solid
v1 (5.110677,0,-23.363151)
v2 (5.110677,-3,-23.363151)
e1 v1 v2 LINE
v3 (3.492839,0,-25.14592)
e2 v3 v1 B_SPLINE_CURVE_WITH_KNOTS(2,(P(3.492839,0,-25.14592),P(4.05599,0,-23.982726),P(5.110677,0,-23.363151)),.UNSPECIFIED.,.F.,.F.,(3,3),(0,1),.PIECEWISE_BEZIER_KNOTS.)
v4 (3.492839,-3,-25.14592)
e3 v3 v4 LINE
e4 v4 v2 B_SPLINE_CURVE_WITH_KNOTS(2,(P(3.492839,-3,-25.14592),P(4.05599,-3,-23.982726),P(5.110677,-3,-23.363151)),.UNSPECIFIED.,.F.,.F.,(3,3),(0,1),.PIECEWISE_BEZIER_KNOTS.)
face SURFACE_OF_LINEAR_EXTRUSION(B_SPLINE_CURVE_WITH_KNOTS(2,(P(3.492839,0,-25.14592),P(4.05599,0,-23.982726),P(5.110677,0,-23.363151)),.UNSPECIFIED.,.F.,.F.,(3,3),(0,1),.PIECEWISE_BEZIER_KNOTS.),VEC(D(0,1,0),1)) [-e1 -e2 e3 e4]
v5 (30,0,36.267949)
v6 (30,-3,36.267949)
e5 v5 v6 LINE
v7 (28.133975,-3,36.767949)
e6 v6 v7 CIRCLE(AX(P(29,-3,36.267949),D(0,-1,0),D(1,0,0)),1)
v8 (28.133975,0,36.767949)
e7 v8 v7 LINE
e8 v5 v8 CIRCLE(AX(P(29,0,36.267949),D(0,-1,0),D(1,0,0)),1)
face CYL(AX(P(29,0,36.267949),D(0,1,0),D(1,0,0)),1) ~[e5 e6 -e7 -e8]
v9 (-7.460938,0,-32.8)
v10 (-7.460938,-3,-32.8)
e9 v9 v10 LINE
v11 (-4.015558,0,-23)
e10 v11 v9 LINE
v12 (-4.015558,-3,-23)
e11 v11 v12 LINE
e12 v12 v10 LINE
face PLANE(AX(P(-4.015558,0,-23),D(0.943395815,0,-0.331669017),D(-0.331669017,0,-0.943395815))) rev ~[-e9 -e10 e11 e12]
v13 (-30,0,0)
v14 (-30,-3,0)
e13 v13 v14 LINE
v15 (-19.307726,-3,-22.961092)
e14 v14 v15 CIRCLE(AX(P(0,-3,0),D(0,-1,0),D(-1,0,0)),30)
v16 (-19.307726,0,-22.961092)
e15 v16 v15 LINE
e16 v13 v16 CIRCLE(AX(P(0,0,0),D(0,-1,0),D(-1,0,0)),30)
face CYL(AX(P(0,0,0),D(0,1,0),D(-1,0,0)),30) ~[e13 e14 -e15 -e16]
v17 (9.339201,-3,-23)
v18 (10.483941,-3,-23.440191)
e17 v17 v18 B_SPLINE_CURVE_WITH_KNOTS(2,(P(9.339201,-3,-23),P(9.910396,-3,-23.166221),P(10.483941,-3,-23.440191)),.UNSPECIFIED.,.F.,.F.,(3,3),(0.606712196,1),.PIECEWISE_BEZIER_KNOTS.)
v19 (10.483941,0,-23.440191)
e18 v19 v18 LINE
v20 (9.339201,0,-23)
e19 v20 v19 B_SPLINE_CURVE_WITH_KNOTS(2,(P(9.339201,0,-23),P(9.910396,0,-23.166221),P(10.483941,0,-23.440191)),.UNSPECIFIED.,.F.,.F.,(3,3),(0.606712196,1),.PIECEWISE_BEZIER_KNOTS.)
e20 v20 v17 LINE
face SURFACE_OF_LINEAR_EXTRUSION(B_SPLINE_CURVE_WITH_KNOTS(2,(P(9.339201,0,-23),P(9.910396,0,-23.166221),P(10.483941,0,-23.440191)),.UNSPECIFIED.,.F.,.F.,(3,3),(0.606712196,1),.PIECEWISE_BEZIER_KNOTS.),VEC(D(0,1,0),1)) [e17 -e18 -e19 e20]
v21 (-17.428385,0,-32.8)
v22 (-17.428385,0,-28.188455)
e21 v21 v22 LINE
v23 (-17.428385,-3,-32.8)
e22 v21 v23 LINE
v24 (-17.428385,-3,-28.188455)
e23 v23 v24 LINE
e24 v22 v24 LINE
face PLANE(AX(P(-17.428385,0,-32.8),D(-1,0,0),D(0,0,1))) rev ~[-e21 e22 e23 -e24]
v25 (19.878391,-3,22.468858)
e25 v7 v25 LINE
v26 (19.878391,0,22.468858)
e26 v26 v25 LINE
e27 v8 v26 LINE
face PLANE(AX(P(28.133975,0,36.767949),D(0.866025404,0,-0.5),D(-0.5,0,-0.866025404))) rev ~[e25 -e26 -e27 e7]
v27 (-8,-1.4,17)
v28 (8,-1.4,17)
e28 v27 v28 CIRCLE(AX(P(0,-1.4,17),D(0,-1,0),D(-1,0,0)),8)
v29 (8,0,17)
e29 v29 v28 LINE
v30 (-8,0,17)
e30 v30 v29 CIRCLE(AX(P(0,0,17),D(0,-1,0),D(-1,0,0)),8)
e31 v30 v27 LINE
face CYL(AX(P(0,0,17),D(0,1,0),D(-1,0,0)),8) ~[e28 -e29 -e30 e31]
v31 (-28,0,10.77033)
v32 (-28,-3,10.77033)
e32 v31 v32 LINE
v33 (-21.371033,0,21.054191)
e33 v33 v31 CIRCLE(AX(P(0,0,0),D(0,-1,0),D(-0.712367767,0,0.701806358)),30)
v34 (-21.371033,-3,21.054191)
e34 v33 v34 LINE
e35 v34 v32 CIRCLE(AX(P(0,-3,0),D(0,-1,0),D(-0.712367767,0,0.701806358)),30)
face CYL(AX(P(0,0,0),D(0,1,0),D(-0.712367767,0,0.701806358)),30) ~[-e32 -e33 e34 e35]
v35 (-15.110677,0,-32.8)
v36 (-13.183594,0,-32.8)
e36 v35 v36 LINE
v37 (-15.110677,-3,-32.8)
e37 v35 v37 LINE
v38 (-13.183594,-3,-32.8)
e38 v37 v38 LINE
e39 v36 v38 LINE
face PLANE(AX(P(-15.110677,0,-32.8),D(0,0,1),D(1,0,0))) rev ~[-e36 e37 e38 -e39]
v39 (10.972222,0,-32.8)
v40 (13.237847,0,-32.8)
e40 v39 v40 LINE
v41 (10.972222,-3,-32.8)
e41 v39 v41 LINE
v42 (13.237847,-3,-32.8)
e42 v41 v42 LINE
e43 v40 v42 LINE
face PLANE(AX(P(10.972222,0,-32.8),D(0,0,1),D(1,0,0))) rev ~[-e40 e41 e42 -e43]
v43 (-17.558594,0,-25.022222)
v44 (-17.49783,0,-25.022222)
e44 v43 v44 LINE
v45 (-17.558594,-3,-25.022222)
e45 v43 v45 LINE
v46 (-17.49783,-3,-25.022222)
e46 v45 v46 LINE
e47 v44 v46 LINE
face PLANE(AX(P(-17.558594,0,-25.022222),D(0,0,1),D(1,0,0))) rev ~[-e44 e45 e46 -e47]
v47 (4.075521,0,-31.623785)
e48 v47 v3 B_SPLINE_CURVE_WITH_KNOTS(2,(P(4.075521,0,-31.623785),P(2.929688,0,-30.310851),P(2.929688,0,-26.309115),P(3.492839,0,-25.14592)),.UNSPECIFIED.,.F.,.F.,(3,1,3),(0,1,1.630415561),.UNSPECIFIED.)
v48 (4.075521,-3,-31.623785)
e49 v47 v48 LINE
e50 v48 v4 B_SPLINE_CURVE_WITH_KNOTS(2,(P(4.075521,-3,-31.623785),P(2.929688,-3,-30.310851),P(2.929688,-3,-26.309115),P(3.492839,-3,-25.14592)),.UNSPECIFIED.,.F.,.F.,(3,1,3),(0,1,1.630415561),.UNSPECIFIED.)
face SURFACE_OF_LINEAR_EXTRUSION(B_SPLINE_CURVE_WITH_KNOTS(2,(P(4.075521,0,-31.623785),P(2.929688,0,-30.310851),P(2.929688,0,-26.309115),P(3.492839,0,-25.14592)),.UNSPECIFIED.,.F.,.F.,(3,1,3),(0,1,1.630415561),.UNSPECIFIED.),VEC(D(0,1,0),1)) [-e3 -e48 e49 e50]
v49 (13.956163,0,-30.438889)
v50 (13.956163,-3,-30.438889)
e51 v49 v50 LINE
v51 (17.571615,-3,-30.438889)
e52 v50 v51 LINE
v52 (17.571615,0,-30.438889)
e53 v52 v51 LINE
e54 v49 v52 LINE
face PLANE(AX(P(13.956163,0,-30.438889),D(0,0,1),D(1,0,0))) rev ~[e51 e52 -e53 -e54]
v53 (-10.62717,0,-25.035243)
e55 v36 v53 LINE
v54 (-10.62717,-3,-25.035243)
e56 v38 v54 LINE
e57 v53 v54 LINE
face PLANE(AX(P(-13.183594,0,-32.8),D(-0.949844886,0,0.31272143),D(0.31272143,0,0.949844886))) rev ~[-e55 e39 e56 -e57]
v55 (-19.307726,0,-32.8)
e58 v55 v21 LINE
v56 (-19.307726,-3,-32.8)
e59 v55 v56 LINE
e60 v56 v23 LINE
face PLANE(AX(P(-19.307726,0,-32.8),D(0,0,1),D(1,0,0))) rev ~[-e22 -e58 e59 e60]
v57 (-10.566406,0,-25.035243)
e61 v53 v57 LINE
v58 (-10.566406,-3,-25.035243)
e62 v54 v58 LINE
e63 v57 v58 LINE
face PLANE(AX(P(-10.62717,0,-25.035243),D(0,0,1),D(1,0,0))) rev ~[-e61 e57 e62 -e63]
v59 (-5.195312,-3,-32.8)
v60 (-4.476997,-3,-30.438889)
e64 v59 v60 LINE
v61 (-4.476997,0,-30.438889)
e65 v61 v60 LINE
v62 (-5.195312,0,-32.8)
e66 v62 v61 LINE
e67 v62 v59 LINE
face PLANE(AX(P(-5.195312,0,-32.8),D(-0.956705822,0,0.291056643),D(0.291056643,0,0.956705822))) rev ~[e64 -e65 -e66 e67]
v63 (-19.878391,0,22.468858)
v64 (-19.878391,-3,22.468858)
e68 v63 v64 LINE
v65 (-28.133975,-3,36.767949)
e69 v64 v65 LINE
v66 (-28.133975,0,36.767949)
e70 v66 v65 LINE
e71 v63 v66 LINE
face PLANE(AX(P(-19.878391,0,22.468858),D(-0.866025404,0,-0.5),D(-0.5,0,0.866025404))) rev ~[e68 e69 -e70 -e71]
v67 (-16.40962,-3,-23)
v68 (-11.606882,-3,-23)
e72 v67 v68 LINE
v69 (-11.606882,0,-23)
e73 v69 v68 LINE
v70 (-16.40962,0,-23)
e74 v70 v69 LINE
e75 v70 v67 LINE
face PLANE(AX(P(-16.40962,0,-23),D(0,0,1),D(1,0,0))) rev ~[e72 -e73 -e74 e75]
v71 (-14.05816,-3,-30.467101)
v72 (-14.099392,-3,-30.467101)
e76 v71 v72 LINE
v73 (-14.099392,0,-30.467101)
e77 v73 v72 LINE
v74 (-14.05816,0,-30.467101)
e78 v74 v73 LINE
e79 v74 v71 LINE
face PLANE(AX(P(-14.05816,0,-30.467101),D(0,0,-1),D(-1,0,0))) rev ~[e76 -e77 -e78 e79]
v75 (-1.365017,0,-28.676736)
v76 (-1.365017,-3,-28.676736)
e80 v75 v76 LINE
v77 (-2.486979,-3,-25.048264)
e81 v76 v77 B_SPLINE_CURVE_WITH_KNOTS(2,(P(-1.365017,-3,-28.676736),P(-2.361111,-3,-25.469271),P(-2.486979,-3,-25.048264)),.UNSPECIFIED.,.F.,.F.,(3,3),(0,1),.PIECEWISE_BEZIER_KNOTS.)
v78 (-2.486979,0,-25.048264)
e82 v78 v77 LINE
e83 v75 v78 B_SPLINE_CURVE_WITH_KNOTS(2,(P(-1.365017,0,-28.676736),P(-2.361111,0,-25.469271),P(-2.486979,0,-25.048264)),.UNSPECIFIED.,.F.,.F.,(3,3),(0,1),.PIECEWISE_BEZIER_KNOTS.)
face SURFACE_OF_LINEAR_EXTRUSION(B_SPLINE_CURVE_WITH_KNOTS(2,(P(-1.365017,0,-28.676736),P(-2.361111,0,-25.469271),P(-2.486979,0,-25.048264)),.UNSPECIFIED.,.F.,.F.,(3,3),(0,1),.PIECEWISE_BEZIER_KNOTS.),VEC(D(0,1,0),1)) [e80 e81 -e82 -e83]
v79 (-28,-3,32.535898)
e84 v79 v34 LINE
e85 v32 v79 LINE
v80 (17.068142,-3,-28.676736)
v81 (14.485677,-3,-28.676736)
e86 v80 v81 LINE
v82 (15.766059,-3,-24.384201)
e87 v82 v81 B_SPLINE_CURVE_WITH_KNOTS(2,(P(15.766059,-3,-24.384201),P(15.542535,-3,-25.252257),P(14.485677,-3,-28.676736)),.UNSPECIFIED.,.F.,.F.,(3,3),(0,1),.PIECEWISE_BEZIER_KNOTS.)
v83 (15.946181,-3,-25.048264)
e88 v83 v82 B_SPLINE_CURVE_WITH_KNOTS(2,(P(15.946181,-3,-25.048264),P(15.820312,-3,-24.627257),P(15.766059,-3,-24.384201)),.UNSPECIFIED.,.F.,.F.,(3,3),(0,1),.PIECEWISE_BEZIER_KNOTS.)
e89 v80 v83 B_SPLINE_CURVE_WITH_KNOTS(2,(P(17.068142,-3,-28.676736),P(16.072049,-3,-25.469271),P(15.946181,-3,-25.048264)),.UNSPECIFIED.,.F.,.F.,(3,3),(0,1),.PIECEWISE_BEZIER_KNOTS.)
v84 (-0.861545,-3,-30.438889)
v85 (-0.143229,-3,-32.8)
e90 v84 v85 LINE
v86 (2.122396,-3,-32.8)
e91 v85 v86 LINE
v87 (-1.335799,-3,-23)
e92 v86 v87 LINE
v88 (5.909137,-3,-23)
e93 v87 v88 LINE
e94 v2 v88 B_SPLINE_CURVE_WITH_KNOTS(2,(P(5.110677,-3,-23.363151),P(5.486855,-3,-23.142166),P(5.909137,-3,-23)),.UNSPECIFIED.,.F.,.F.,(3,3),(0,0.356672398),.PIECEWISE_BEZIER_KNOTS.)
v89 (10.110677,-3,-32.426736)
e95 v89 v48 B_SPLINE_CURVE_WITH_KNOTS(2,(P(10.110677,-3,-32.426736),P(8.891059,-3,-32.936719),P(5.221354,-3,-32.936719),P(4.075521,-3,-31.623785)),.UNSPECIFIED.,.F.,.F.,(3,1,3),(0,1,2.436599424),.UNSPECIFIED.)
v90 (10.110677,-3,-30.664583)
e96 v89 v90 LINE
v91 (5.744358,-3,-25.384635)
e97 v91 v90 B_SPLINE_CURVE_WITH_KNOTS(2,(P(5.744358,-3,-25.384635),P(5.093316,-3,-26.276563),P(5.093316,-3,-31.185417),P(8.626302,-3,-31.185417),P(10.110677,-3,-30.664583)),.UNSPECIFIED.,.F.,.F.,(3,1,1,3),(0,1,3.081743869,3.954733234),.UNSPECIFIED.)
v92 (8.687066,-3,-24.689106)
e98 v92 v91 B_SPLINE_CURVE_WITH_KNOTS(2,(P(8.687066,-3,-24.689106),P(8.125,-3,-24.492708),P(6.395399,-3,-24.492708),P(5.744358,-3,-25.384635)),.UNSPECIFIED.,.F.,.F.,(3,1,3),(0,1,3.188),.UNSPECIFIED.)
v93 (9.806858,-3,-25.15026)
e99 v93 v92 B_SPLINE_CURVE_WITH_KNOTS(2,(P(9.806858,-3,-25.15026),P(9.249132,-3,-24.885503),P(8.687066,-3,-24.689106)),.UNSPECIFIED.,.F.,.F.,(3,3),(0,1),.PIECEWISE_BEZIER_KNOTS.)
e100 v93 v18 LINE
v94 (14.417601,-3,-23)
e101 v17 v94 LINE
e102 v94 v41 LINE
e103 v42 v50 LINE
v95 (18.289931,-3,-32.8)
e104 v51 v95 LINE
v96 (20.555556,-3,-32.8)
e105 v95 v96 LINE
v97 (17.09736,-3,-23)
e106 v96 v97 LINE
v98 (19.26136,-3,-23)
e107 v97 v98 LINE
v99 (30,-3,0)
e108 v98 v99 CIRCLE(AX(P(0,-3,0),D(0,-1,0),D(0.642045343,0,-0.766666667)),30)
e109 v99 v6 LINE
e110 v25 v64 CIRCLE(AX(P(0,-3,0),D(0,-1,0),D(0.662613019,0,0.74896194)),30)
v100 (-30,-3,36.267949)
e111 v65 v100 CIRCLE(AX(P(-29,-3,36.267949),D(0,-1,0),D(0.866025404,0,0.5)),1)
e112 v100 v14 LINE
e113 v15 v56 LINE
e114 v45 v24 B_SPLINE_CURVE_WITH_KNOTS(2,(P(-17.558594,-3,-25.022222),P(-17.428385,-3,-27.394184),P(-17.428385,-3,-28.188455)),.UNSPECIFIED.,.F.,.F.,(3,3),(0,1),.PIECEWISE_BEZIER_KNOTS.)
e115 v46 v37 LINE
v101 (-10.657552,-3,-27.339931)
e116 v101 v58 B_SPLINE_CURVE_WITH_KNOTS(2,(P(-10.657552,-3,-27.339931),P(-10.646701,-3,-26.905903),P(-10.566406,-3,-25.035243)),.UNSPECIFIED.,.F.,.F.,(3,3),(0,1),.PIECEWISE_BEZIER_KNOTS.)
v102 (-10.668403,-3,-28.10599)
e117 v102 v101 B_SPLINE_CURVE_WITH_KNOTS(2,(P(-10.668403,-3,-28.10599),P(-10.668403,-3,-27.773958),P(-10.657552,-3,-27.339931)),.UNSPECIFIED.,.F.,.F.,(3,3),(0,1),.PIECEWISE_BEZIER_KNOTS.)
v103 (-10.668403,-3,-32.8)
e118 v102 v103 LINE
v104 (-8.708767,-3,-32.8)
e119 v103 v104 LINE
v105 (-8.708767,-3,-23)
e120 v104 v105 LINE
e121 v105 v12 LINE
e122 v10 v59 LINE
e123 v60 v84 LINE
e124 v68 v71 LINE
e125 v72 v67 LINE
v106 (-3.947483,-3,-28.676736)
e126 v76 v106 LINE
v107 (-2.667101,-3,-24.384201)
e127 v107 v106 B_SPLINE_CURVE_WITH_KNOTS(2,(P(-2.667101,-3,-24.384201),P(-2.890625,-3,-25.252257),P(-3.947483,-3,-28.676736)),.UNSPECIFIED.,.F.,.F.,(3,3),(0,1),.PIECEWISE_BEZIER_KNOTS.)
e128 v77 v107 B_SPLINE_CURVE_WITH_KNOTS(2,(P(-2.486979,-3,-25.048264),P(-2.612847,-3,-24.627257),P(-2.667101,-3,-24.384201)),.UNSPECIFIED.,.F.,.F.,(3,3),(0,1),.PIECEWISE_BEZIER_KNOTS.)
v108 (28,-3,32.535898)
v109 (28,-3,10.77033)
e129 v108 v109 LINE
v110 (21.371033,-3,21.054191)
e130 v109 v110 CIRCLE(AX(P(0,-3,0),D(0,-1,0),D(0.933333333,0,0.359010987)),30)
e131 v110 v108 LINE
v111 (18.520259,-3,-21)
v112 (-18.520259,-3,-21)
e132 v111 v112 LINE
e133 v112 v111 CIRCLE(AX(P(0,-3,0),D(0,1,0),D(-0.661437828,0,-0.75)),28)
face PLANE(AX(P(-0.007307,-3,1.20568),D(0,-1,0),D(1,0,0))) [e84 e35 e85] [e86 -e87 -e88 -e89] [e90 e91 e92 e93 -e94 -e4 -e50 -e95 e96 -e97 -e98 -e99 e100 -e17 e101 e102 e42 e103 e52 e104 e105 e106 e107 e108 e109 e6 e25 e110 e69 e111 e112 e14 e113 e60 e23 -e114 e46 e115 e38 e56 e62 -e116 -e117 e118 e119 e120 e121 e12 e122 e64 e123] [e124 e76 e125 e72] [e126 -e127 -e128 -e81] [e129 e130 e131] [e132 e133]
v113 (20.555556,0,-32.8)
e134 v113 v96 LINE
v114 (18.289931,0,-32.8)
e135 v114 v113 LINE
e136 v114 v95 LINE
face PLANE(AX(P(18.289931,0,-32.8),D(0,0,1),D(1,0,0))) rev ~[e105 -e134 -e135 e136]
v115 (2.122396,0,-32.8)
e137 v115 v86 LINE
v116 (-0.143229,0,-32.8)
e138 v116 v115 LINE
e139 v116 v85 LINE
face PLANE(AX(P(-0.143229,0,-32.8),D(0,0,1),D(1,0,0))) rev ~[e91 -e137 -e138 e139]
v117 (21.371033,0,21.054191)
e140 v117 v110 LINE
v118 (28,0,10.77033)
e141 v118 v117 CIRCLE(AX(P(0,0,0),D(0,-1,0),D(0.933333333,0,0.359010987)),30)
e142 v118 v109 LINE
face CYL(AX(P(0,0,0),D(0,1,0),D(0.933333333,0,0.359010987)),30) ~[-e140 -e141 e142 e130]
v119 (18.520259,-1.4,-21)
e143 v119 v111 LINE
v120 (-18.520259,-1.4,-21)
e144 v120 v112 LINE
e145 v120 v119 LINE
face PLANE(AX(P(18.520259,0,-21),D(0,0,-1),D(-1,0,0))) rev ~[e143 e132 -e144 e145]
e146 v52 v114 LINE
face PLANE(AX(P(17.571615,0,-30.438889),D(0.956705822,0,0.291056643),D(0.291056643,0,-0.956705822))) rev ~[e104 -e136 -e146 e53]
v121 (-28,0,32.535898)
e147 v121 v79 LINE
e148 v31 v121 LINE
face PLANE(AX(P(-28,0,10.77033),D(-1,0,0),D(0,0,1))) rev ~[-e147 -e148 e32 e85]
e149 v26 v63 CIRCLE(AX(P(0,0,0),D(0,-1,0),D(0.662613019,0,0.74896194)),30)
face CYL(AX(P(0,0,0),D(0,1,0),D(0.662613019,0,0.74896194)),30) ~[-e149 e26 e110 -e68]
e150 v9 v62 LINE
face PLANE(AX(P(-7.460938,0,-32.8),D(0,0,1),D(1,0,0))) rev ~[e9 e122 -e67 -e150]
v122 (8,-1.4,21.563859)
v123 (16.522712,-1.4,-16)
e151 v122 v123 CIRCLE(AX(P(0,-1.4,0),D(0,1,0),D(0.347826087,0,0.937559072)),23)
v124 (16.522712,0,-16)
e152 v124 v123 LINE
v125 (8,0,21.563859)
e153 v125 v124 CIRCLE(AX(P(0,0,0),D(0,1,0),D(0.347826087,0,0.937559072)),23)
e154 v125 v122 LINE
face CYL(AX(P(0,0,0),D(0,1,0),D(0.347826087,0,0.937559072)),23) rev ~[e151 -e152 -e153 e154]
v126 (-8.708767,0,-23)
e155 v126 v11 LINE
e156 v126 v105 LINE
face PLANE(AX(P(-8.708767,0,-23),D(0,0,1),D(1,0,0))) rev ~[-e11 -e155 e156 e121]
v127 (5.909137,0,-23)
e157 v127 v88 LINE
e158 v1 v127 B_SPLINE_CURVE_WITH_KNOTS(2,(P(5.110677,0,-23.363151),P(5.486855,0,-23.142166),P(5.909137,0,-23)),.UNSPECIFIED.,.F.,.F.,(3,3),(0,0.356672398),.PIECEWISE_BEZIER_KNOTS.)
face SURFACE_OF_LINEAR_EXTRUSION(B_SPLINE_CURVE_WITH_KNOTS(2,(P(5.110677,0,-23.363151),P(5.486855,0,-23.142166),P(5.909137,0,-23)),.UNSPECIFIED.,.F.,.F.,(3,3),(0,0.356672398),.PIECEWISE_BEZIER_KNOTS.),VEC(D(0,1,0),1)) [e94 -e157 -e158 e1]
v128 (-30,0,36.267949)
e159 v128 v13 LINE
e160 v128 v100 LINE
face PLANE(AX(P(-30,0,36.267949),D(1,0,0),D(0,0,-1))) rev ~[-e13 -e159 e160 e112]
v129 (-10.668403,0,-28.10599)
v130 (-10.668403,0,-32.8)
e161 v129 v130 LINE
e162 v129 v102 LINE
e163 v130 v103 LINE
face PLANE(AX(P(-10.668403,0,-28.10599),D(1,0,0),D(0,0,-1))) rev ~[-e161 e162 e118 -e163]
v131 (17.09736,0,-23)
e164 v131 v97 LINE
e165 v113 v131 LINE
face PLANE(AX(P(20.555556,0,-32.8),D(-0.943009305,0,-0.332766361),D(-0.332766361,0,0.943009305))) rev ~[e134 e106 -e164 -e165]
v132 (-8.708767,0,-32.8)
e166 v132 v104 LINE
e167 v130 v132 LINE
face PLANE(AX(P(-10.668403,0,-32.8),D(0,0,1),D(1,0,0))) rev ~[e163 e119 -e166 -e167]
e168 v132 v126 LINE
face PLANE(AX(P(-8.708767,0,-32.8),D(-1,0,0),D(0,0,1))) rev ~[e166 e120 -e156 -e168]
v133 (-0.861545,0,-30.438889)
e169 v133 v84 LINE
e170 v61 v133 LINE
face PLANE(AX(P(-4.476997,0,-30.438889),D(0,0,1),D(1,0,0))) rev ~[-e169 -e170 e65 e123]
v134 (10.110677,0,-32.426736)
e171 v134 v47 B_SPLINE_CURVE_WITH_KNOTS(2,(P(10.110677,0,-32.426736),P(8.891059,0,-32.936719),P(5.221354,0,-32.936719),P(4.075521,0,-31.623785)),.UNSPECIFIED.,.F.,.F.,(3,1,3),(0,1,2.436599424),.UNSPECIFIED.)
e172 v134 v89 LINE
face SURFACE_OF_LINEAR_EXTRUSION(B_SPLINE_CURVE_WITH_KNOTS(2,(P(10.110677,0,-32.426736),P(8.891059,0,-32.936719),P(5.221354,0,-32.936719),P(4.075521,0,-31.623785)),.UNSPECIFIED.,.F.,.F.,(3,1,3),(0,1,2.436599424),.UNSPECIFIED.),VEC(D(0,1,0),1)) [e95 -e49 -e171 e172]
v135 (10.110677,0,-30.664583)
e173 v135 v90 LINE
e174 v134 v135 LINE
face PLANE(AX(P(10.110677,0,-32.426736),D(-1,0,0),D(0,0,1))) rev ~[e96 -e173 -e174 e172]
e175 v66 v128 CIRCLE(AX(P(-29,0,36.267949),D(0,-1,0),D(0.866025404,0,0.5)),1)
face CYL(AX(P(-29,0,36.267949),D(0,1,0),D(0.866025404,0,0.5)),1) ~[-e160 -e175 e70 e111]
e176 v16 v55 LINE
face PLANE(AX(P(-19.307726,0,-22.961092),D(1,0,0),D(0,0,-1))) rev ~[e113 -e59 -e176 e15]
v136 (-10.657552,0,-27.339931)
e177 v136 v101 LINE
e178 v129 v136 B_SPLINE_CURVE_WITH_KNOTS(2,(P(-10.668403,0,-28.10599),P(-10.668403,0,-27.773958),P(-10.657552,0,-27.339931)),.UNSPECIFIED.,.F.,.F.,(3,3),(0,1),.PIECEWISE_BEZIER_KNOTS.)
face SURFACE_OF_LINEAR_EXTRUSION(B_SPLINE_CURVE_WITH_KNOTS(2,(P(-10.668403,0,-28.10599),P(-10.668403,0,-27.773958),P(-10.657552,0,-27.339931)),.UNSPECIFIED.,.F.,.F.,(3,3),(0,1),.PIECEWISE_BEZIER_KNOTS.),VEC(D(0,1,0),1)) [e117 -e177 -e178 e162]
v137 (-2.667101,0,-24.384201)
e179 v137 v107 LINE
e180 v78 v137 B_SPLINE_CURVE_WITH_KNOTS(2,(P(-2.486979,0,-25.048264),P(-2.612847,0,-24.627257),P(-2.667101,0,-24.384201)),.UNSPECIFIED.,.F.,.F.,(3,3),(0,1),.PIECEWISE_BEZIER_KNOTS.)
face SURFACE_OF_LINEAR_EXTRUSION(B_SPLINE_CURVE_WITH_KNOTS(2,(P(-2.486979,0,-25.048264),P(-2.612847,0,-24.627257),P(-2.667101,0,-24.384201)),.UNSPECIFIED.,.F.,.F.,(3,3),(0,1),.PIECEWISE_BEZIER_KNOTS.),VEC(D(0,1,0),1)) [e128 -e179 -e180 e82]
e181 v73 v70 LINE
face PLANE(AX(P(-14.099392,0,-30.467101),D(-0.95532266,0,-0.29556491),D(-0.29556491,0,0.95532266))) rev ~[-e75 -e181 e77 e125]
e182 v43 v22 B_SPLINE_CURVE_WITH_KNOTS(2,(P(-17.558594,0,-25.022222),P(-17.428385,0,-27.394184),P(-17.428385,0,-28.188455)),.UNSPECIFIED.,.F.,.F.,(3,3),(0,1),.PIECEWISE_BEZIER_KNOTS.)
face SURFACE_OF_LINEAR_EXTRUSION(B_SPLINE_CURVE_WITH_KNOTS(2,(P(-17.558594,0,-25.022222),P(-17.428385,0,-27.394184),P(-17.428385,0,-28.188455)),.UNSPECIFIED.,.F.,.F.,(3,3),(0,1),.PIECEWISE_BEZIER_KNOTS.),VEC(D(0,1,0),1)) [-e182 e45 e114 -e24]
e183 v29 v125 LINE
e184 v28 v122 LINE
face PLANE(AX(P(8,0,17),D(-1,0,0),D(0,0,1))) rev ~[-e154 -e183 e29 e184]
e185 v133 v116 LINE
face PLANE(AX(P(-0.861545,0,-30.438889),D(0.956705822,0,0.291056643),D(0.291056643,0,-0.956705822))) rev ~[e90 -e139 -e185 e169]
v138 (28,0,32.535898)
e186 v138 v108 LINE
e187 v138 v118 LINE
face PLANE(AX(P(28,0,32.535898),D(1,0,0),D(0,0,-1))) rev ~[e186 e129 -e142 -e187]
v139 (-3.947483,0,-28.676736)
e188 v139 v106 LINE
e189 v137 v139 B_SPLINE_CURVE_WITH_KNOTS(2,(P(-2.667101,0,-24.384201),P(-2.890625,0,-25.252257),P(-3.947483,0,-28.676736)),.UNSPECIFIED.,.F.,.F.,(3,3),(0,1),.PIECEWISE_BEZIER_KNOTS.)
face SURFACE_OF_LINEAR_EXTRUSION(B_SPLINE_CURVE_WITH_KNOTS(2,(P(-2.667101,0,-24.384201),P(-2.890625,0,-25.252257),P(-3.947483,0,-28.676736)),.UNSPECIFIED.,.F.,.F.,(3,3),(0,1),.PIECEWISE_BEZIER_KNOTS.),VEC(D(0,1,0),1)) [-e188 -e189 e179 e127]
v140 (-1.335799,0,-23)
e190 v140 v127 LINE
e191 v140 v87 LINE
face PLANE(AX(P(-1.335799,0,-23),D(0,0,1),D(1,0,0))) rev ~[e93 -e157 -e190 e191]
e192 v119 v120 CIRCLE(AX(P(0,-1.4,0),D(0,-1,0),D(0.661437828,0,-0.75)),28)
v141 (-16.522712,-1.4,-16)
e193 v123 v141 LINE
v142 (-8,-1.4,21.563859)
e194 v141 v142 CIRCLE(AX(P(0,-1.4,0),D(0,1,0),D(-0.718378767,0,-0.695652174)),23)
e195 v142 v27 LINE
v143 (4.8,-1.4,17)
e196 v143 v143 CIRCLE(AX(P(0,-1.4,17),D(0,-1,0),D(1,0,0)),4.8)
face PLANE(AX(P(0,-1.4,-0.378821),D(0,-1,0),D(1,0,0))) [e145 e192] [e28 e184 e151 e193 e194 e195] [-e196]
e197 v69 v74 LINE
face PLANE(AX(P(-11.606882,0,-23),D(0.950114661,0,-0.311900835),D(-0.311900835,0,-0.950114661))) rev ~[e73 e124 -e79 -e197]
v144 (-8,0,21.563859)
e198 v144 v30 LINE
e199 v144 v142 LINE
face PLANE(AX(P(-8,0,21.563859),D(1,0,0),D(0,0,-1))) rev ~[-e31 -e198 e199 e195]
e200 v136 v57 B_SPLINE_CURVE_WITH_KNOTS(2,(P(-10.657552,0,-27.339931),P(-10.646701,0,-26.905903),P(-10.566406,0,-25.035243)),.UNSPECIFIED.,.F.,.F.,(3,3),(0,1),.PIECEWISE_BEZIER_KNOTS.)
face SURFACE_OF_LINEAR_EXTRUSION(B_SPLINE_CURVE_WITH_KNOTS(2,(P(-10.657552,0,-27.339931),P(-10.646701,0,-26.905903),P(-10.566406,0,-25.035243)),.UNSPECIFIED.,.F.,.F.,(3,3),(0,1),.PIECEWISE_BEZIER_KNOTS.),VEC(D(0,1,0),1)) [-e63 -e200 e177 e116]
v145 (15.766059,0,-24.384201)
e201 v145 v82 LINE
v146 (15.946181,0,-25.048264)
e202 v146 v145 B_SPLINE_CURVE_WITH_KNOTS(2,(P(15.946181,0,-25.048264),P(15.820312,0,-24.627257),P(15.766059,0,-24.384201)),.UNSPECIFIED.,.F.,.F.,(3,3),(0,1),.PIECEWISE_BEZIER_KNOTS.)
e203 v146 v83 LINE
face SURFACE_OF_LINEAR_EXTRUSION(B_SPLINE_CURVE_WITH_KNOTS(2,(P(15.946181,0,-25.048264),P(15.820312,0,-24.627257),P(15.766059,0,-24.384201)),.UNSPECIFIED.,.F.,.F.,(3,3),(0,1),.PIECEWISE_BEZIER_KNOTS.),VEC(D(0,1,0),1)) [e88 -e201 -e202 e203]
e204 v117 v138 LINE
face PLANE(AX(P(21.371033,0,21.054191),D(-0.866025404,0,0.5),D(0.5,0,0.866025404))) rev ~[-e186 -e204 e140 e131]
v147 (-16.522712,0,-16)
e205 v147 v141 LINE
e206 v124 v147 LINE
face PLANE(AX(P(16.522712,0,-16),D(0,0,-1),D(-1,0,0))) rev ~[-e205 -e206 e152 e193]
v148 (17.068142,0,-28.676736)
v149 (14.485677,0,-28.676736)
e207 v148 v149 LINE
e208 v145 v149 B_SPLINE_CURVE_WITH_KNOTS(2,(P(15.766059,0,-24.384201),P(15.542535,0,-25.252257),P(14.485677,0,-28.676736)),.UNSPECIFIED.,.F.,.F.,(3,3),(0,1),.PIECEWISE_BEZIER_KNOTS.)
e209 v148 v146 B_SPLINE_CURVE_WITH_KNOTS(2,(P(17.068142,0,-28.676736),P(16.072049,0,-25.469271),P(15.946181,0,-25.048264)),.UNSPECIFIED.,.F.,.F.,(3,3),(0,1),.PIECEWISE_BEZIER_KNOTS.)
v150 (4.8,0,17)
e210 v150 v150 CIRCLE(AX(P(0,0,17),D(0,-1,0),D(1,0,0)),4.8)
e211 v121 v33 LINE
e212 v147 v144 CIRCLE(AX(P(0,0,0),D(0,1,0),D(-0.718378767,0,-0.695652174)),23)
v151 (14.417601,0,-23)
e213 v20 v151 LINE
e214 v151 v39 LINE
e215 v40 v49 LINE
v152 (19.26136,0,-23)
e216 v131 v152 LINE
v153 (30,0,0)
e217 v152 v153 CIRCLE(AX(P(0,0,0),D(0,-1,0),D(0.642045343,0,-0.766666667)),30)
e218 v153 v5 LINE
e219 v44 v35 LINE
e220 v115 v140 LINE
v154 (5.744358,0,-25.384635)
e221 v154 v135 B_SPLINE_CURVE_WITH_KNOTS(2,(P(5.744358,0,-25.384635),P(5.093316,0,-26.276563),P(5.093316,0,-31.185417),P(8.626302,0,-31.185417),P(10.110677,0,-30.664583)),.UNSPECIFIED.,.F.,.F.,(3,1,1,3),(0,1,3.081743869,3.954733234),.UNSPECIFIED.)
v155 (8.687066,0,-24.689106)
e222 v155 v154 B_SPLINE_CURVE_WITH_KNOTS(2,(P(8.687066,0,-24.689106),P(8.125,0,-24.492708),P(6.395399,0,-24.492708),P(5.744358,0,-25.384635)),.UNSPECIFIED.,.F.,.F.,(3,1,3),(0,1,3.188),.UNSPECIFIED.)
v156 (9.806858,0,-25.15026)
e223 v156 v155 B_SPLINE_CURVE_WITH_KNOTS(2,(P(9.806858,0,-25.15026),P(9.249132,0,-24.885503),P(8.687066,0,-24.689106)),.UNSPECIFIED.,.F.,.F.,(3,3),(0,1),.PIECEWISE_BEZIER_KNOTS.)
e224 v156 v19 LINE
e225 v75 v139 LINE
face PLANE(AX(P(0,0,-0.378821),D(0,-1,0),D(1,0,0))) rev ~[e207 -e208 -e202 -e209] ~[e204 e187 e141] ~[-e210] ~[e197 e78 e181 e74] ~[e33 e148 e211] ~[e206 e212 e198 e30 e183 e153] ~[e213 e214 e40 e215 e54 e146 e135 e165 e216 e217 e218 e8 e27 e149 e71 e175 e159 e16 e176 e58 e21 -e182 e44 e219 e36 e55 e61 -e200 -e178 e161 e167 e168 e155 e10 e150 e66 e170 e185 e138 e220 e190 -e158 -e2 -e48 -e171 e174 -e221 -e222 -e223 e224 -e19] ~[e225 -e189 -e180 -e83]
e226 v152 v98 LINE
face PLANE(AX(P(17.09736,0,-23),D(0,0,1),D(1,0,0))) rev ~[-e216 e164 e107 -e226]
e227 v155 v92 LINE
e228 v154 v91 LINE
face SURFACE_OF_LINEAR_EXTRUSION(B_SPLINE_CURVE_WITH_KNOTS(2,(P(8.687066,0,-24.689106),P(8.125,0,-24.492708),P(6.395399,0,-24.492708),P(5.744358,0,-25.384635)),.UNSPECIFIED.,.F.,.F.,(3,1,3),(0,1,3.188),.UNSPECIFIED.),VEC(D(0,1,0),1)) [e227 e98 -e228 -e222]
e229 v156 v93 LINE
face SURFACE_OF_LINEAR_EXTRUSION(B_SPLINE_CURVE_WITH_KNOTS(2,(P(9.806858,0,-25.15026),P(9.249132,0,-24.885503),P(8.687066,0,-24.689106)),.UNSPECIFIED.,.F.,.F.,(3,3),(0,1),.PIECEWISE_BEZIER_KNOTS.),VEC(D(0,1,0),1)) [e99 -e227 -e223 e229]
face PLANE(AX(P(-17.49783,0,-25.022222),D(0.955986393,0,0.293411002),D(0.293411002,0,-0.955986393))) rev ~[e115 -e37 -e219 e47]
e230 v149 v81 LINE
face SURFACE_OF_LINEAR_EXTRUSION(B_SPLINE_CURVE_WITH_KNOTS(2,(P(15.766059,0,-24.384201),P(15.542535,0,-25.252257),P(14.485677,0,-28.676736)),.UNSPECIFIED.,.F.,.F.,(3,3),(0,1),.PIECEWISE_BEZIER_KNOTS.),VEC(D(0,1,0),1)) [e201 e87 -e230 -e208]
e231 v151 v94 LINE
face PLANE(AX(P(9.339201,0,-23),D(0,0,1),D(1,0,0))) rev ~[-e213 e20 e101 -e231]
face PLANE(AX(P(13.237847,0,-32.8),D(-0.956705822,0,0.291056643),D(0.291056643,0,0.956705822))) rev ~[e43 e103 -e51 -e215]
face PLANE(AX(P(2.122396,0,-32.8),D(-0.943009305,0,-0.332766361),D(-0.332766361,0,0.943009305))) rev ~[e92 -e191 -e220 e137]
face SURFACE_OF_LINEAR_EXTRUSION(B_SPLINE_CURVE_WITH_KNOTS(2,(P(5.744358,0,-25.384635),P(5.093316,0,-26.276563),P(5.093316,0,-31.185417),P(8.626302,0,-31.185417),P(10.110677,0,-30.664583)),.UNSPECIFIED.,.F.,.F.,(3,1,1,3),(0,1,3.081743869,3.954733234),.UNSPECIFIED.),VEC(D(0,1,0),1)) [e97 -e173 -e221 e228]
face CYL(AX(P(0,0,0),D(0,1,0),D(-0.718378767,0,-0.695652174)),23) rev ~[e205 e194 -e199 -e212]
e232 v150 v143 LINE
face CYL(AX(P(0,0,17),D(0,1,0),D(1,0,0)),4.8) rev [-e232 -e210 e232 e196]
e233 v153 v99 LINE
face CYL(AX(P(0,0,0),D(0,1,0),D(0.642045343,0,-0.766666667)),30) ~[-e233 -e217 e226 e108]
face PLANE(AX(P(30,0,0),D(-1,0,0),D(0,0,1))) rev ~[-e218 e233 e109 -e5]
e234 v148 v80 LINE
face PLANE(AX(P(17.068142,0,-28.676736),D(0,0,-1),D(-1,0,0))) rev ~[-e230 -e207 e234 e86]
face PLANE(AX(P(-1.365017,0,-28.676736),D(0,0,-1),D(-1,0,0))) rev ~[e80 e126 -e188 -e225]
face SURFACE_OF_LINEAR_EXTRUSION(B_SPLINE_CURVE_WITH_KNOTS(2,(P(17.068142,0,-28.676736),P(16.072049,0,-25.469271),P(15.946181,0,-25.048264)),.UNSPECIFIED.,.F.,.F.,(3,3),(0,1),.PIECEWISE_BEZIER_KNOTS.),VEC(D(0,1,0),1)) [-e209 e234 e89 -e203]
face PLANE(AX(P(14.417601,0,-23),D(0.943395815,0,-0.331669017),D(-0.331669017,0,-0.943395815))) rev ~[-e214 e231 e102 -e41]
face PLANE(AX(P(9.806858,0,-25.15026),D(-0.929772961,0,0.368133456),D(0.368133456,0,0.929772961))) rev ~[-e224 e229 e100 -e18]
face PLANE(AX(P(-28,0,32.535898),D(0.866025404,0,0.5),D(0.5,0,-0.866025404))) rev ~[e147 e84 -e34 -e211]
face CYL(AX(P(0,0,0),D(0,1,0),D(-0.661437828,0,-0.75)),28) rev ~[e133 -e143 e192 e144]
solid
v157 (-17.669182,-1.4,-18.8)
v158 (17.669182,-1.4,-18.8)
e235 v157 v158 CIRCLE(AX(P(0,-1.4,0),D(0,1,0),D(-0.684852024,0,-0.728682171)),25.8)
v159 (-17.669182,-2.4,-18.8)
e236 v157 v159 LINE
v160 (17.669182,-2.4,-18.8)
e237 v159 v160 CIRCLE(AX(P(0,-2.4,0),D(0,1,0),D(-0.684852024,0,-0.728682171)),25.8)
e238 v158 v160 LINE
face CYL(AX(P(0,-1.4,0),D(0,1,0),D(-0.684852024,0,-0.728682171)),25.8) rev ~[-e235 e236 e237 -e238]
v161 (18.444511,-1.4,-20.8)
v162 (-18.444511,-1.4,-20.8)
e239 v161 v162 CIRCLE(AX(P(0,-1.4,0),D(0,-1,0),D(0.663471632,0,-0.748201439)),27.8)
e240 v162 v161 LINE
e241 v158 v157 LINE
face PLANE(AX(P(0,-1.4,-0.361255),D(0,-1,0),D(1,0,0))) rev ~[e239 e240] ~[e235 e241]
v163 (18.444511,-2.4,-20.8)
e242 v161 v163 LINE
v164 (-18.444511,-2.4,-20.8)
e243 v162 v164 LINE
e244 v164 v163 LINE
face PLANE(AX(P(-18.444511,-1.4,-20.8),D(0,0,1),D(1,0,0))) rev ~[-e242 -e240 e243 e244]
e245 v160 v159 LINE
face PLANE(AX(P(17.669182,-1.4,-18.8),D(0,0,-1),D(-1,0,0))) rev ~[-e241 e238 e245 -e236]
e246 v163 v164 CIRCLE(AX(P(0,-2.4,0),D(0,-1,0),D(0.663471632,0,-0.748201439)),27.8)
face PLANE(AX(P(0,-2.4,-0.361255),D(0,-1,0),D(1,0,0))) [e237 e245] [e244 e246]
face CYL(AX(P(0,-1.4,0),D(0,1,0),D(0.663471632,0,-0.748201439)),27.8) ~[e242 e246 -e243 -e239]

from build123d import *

# Parameters (mm, degrees)
F1_DEPTH = 3
F0_R     = 4.8
F2_DEPTH = 1.4
F4_DEPTH = 1


with BuildPart() as f1:
    # F0 (on Front) → F1 (new body)
    with BuildSketch(Plane.XZ):
        with BuildLine():
            Line((17.0973602635, -23), (19.2613602843, -23))
            ThreePointArc((19.2613602843, -23), (27.1830904105, -12.6917136643), (30, 0))
            ThreePointArc((30, 0), (29.4957624075, 5.4772255751), (28, 10.7703296143))
            ThreePointArc((28, 10.7703296143), (25.2153559369, 16.2537941718), (21.3710330072, 21.0541907516))
            ThreePointArc((21.3710330072, 21.0541907516), (20.6368373831, 21.7743184239), (19.8783905611, 22.4688581975))
            ThreePointArc((19.8783905611, 22.4688581975), (0, 30), (-19.8783905611, 22.4688581975))
            ThreePointArc((-19.8783905611, 22.4688581975), (-20.6368373831, 21.7743184239), (-21.3710330072, 21.0541907516))
            ThreePointArc((-21.3710330072, 21.0541907516), (-25.2153559369, 16.2537941718), (-28, 10.7703296143))
            ThreePointArc((-28, 10.7703296143), (-29.4957624075, 5.4772255751), (-30, 0))
            ThreePointArc((-30, 0), (-27.1958799346, -12.6642850009), (-19.3077256944, -22.9610916227))
            Line((-19.3077256944, -22.9610916227), (-19.3077256944, -22.8846354167))
            Line((-19.3077256944, -22.8846354167), (-16.4453125, -22.8846354167))
            Line((-16.4453125, -22.8846354167), (-16.4096201375, -23))
            Line((-16.4096201375, -23), (-11.6068819613, -23))
            Line((-11.6068819613, -23), (-11.5690104167, -22.8846354167))
            Line((-11.5690104167, -22.8846354167), (-8.7087673611, -22.8846354167))
            Line((-8.7087673611, -22.8846354167), (-8.7087673611, -23))
            Line((-8.7087673611, -23), (-4.0155582498, -23))
            Line((-4.0155582498, -23), (-3.9605034722, -22.8434027778))
            Line((-3.9605034722, -22.8434027778), (-1.3910590278, -22.8434027778))
            Line((-1.3910590278, -22.8434027778), (-1.3357994587, -23))
            Line((-1.3357994587, -23), (5.909137391, -23))
            add(Edge.make_bspline(
                [(5.909137391, -23), (6.670805287, -22.7435763889), (7.5824652778, -22.7435763889)],
                knots=[0.3566723985, 0.3566723985, 0.3566723985, 1, 1, 1], degree=2))
            add(Edge.make_bspline(
                [(7.5824652778, -22.7435763889), (8.4580373485, -22.7435763889), (9.3392012113, -23)],
                knots=[0, 0, 0, 0.6067121958, 0.6067121958, 0.6067121958], degree=2))
            Line((9.3392012113, -23), (14.4176014724, -23))
            Line((14.4176014724, -23), (14.47265625, -22.8434027778))
            Line((14.47265625, -22.8434027778), (17.0421006944, -22.8434027778))
            Line((17.0421006944, -22.8434027778), (17.0973602635, -23))
        make_face()
        with BuildLine():
            ThreePointArc((-18.5202591775, -21), (0, 28), (18.5202591775, -21))
            Line((18.5202591775, -21), (-18.5202591775, -21))
        make_face(mode=Mode.SUBTRACT)
        with BuildLine():
            ThreePointArc((28, 10.7703296143), (29.4957624075, 5.4772255751), (30, 0))
            Line((30, 0), (30, 36.2679491924))
            ThreePointArc((30, 36.2679491924), (29.2588190451, 37.2338750187), (28.1339745962, 36.7679491924))
            Line((28.1339745962, 36.7679491924), (19.8783905611, 22.4688581975))
            ThreePointArc((19.8783905611, 22.4688581975), (20.6368373831, 21.7743184239), (21.3710330072, 21.0541907516))
            Line((21.3710330072, 21.0541907516), (28, 32.5358983849))
            Line((28, 32.5358983849), (28, 10.7703296143))
        make_face()
        Polygon((20.5555555556, -32.8), (17.0973602635, -23), (14.4176014724, -23), (10.9722222222, -32.8), (13.2378472222, -32.8), (13.9561631944, -30.4388888889), (17.5716145833, -30.4388888889), (18.2899305556, -32.8), align=None)
        with BuildLine():
            add(Edge.make_bspline(
                [(17.0681423611, -28.6767361111), (16.0720486111, -25.4692708333), (15.9461805556, -25.0482638889)],
                knots=[0, 0, 0, 1, 1, 1], degree=2))
            Line((17.0681423611, -28.6767361111), (14.4856770833, -28.6767361111))
            add(Edge.make_bspline(
                [(15.7660590278, -24.3842013889), (15.5425347222, -25.2522569444), (14.4856770833, -28.6767361111)],
                knots=[0, 0, 0, 1, 1, 1], degree=2))
            add(Edge.make_bspline(
                [(15.9461805556, -25.0482638889), (15.8203125, -24.6272569444), (15.7660590278, -24.3842013889)],
                knots=[0, 0, 0, 1, 1, 1], degree=2))
        make_face(mode=Mode.SUBTRACT)
        Polygon((14.4176014724, -23), (17.0973602635, -23), (17.0421006944, -22.8434027778), (14.47265625, -22.8434027778), align=None)
        with BuildLine():
            add(Edge.make_bspline(
                [(9.3392012113, -23), (9.9103962577, -23.1662209523), (10.4839409722, -23.4401909722)],
                knots=[0.6067121958, 0.6067121958, 0.6067121958, 1, 1, 1], degree=2))
            Line((9.3392012113, -23), (5.909137391, -23))
            add(Edge.make_bspline(
                [(5.1106770833, -23.3631510417), (5.4868550037, -23.1421658642), (5.909137391, -23)],
                knots=[0, 0, 0, 0.3566723985, 0.3566723985, 0.3566723985], degree=2))
            add(Edge.make_bspline(
                [(3.4928385417, -25.1459201389), (4.0559895833, -23.9827256944), (5.1106770833, -23.3631510417)],
                knots=[0, 0, 0, 1, 1, 1], degree=2))
            add(Edge.make_bspline(
                [(2.9296875, -27.8564236111), (2.9296875, -26.3091145833), (3.4928385417, -25.1459201389)],
                knots=[0, 0, 0, 1, 1, 1], degree=2))
            add(Edge.make_bspline(
                [(4.0755208333, -31.6237847222), (2.9296875, -30.3108506944), (2.9296875, -27.8564236111)],
                knots=[0, 0, 0, 1, 1, 1], degree=2))
            add(Edge.make_bspline(
                [(7.3849826389, -32.93671875), (5.2213541667, -32.93671875), (4.0755208333, -31.6237847222)],
                knots=[0, 0, 0, 1, 1, 1], degree=2))
            add(Edge.make_bspline(
                [(10.1106770833, -32.4267361111), (8.8910590278, -32.93671875), (7.3849826389, -32.93671875)],
                knots=[0, 0, 0, 1, 1, 1], degree=2))
            Line((10.1106770833, -32.4267361111), (10.1106770833, -30.6645833333))
            add(Edge.make_bspline(
                [(7.5824652778, -31.1854166667), (8.6263020833, -31.1854166667), (10.1106770833, -30.6645833333)],
                knots=[0, 0, 0, 1, 1, 1], degree=2))
            add(Edge.make_bspline(
                [(5.0933159722, -27.8694444444), (5.0933159722, -31.1854166667), (7.5824652778, -31.1854166667)],
                knots=[0, 0, 0, 1, 1, 1], degree=2))
            add(Edge.make_bspline(
                [(5.7443576389, -25.3846354167), (5.0933159722, -26.2765625), (5.0933159722, -27.8694444444)],
                knots=[0, 0, 0, 1, 1, 1], degree=2))
            add(Edge.make_bspline(
                [(7.5824652778, -24.4927083333), (6.3953993056, -24.4927083333), (5.7443576389, -25.3846354167)],
                knots=[0, 0, 0, 1, 1, 1], degree=2))
            add(Edge.make_bspline(
                [(8.6870659722, -24.6891059028), (8.125, -24.4927083333), (7.5824652778, -24.4927083333)],
                knots=[0, 0, 0, 1, 1, 1], degree=2))
            add(Edge.make_bspline(
                [(9.8068576389, -25.1502604167), (9.2491319444, -24.8855034722), (8.6870659722, -24.6891059028)],
                knots=[0, 0, 0, 1, 1, 1], degree=2))
            Line((9.8068576389, -25.1502604167), (10.4839409722, -23.4401909722))
        make_face()
        with BuildLine():
            Line((5.909137391, -23), (9.3392012113, -23))
            add(Edge.make_bspline(
                [(7.5824652778, -22.7435763889), (8.4580373485, -22.7435763889), (9.3392012113, -23)],
                knots=[0, 0, 0, 0.6067121958, 0.6067121958, 0.6067121958], degree=2))
            add(Edge.make_bspline(
                [(5.909137391, -23), (6.670805287, -22.7435763889), (7.5824652778, -22.7435763889)],
                knots=[0.3566723985, 0.3566723985, 0.3566723985, 1, 1, 1], degree=2))
        make_face()
        with BuildLine():
            ThreePointArc((-21.3710330072, 21.0541907516), (-20.6368373831, 21.7743184239), (-19.8783905611, 22.4688581975))
            Line((-19.8783905611, 22.4688581975), (-28.1339745962, 36.7679491924))
            ThreePointArc((-28.1339745962, 36.7679491924), (-29.2588190451, 37.2338750187), (-30, 36.2679491924))
            Line((-30, 36.2679491924), (-30, 0))
            ThreePointArc((-30, 0), (-29.4957624075, 5.4772255751), (-28, 10.7703296143))
            Line((-28, 10.7703296143), (-28, 32.5358983849))
            Line((-28, 32.5358983849), (-21.3710330072, 21.0541907516))
        make_face()
        Polygon((2.1223958333, -32.8), (-1.3357994587, -23), (-4.0155582498, -23), (-7.4609375, -32.8), (-5.1953125, -32.8), (-4.4769965278, -30.4388888889), (-0.8615451389, -30.4388888889), (-0.1432291667, -32.8), align=None)
        with BuildLine():
            add(Edge.make_bspline(
                [(-1.3650173611, -28.6767361111), (-2.3611111111, -25.4692708333), (-2.4869791667, -25.0482638889)],
                knots=[0, 0, 0, 1, 1, 1], degree=2))
            Line((-1.3650173611, -28.6767361111), (-3.9474826389, -28.6767361111))
            add(Edge.make_bspline(
                [(-2.6671006944, -24.3842013889), (-2.890625, -25.2522569444), (-3.9474826389, -28.6767361111)],
                knots=[0, 0, 0, 1, 1, 1], degree=2))
            add(Edge.make_bspline(
                [(-2.4869791667, -25.0482638889), (-2.6128472222, -24.6272569444), (-2.6671006944, -24.3842013889)],
                knots=[0, 0, 0, 1, 1, 1], degree=2))
        make_face(mode=Mode.SUBTRACT)
        Polygon((-4.0155582498, -23), (-1.3357994587, -23), (-1.3910590278, -22.8434027778), (-3.9605034722, -22.8434027778), align=None)
        with BuildLine():
            Line((-8.7087673611, -32.8), (-8.7087673611, -23))
            Line((-8.7087673611, -23), (-11.6068819613, -23))
            Line((-11.6068819613, -23), (-14.0581597222, -30.4671006944))
            Line((-14.0581597222, -30.4671006944), (-14.0993923611, -30.4671006944))
            Line((-14.0993923611, -30.4671006944), (-16.4096201375, -23))
            Line((-16.4096201375, -23), (-19.2613602843, -23))
            ThreePointArc((-19.2613602843, -23), (-19.284552802, -22.9805575047), (-19.3077256944, -22.9610916227))
            Line((-19.3077256944, -22.9610916227), (-19.3077256944, -32.8))
            Line((-19.3077256944, -32.8), (-17.4283854167, -32.8))
            Line((-17.4283854167, -32.8), (-17.4283854167, -28.1884548611))
            add(Edge.make_bspline(
                [(-17.55859375, -25.0222222222), (-17.4283854167, -27.3941840278), (-17.4283854167, -28.1884548611)],
                knots=[0, 0, 0, 1, 1, 1], degree=2))
            Line((-17.55859375, -25.0222222222), (-17.4978298611, -25.0222222222))
            Line((-17.4978298611, -25.0222222222), (-15.1106770833, -32.8))
            Line((-15.1106770833, -32.8), (-13.18359375, -32.8))
            Line((-13.18359375, -32.8), (-10.6271701389, -25.0352430556))
            Line((-10.6271701389, -25.0352430556), (-10.56640625, -25.0352430556))
            add(Edge.make_bspline(
                [(-10.6575520833, -27.3399305556), (-10.6467013889, -26.9059027778), (-10.56640625, -25.0352430556)],
                knots=[0, 0, 0, 1, 1, 1], degree=2))
            add(Edge.make_bspline(
                [(-10.6684027778, -28.1059895833), (-10.6684027778, -27.7739583333), (-10.6575520833, -27.3399305556)],
                knots=[0, 0, 0, 1, 1, 1], degree=2))
            Line((-10.6684027778, -28.1059895833), (-10.6684027778, -32.8))
            Line((-10.6684027778, -32.8), (-8.7087673611, -32.8))
        make_face()
        Polygon((-11.6068819613, -23), (-8.7087673611, -23), (-8.7087673611, -22.8846354167), (-11.5690104167, -22.8846354167), align=None)
        with BuildLine():
            Line((-19.3077256944, -22.8846354167), (-19.3077256944, -22.9610916227))
            ThreePointArc((-19.3077256944, -22.9610916227), (-19.284552802, -22.9805575047), (-19.2613602843, -23))
            Line((-19.2613602843, -23), (-16.4096201375, -23))
            Line((-16.4096201375, -23), (-16.4453125, -22.8846354167))
            Line((-16.4453125, -22.8846354167), (-19.3077256944, -22.8846354167))
        make_face()
    extrude(amount=F1_DEPTH)

    # F0 (on Front) → F2 (join)
    with BuildSketch(Plane.XZ):
        with BuildLine():
            Line((-18.5202591775, -21), (18.5202591775, -21))
            ThreePointArc((18.5202591775, -21), (0, 28), (-18.5202591775, -21))
        make_face()
        with BuildLine():
            ThreePointArc((8, 21.5638586528), (22.4299290188, 5.0890356856), (16.5227116419, -16))
            Line((16.5227116419, -16), (-16.5227116419, -16))
            ThreePointArc((-16.5227116419, -16), (-22.4299290188, 5.0890356856), (-8, 21.5638586528))
            Line((-8, 21.5638586528), (-8, 17))
            ThreePointArc((-8, 17), (0, 9), (8, 17))
            Line((8, 17), (8, 21.5638586528))
        make_face(mode=Mode.SUBTRACT)
        with Locations((0, 17)):
            Circle(F0_R, mode=Mode.SUBTRACT)
    extrude(amount=F2_DEPTH)


with BuildPart() as f4:
    # F3 (on face) → F4 (new body)
    with BuildSketch(Plane.XZ.offset(1.4)):
        with BuildLine():
            ThreePointArc((18.4445113787, -20.8), (0, 27.8), (-18.4445113787, -20.8))
            Line((-18.4445113787, -20.8), (18.4445113787, -20.8))
        make_face()
        with BuildLine():
            Line((17.6691822108, -18.8), (-17.6691822108, -18.8))
            ThreePointArc((-17.6691822108, -18.8), (0, 25.8), (17.6691822108, -18.8))
        make_face(mode=Mode.SUBTRACT)
    extrude(amount=F4_DEPTH)


solid = Compound([f1.part, f4.part])
